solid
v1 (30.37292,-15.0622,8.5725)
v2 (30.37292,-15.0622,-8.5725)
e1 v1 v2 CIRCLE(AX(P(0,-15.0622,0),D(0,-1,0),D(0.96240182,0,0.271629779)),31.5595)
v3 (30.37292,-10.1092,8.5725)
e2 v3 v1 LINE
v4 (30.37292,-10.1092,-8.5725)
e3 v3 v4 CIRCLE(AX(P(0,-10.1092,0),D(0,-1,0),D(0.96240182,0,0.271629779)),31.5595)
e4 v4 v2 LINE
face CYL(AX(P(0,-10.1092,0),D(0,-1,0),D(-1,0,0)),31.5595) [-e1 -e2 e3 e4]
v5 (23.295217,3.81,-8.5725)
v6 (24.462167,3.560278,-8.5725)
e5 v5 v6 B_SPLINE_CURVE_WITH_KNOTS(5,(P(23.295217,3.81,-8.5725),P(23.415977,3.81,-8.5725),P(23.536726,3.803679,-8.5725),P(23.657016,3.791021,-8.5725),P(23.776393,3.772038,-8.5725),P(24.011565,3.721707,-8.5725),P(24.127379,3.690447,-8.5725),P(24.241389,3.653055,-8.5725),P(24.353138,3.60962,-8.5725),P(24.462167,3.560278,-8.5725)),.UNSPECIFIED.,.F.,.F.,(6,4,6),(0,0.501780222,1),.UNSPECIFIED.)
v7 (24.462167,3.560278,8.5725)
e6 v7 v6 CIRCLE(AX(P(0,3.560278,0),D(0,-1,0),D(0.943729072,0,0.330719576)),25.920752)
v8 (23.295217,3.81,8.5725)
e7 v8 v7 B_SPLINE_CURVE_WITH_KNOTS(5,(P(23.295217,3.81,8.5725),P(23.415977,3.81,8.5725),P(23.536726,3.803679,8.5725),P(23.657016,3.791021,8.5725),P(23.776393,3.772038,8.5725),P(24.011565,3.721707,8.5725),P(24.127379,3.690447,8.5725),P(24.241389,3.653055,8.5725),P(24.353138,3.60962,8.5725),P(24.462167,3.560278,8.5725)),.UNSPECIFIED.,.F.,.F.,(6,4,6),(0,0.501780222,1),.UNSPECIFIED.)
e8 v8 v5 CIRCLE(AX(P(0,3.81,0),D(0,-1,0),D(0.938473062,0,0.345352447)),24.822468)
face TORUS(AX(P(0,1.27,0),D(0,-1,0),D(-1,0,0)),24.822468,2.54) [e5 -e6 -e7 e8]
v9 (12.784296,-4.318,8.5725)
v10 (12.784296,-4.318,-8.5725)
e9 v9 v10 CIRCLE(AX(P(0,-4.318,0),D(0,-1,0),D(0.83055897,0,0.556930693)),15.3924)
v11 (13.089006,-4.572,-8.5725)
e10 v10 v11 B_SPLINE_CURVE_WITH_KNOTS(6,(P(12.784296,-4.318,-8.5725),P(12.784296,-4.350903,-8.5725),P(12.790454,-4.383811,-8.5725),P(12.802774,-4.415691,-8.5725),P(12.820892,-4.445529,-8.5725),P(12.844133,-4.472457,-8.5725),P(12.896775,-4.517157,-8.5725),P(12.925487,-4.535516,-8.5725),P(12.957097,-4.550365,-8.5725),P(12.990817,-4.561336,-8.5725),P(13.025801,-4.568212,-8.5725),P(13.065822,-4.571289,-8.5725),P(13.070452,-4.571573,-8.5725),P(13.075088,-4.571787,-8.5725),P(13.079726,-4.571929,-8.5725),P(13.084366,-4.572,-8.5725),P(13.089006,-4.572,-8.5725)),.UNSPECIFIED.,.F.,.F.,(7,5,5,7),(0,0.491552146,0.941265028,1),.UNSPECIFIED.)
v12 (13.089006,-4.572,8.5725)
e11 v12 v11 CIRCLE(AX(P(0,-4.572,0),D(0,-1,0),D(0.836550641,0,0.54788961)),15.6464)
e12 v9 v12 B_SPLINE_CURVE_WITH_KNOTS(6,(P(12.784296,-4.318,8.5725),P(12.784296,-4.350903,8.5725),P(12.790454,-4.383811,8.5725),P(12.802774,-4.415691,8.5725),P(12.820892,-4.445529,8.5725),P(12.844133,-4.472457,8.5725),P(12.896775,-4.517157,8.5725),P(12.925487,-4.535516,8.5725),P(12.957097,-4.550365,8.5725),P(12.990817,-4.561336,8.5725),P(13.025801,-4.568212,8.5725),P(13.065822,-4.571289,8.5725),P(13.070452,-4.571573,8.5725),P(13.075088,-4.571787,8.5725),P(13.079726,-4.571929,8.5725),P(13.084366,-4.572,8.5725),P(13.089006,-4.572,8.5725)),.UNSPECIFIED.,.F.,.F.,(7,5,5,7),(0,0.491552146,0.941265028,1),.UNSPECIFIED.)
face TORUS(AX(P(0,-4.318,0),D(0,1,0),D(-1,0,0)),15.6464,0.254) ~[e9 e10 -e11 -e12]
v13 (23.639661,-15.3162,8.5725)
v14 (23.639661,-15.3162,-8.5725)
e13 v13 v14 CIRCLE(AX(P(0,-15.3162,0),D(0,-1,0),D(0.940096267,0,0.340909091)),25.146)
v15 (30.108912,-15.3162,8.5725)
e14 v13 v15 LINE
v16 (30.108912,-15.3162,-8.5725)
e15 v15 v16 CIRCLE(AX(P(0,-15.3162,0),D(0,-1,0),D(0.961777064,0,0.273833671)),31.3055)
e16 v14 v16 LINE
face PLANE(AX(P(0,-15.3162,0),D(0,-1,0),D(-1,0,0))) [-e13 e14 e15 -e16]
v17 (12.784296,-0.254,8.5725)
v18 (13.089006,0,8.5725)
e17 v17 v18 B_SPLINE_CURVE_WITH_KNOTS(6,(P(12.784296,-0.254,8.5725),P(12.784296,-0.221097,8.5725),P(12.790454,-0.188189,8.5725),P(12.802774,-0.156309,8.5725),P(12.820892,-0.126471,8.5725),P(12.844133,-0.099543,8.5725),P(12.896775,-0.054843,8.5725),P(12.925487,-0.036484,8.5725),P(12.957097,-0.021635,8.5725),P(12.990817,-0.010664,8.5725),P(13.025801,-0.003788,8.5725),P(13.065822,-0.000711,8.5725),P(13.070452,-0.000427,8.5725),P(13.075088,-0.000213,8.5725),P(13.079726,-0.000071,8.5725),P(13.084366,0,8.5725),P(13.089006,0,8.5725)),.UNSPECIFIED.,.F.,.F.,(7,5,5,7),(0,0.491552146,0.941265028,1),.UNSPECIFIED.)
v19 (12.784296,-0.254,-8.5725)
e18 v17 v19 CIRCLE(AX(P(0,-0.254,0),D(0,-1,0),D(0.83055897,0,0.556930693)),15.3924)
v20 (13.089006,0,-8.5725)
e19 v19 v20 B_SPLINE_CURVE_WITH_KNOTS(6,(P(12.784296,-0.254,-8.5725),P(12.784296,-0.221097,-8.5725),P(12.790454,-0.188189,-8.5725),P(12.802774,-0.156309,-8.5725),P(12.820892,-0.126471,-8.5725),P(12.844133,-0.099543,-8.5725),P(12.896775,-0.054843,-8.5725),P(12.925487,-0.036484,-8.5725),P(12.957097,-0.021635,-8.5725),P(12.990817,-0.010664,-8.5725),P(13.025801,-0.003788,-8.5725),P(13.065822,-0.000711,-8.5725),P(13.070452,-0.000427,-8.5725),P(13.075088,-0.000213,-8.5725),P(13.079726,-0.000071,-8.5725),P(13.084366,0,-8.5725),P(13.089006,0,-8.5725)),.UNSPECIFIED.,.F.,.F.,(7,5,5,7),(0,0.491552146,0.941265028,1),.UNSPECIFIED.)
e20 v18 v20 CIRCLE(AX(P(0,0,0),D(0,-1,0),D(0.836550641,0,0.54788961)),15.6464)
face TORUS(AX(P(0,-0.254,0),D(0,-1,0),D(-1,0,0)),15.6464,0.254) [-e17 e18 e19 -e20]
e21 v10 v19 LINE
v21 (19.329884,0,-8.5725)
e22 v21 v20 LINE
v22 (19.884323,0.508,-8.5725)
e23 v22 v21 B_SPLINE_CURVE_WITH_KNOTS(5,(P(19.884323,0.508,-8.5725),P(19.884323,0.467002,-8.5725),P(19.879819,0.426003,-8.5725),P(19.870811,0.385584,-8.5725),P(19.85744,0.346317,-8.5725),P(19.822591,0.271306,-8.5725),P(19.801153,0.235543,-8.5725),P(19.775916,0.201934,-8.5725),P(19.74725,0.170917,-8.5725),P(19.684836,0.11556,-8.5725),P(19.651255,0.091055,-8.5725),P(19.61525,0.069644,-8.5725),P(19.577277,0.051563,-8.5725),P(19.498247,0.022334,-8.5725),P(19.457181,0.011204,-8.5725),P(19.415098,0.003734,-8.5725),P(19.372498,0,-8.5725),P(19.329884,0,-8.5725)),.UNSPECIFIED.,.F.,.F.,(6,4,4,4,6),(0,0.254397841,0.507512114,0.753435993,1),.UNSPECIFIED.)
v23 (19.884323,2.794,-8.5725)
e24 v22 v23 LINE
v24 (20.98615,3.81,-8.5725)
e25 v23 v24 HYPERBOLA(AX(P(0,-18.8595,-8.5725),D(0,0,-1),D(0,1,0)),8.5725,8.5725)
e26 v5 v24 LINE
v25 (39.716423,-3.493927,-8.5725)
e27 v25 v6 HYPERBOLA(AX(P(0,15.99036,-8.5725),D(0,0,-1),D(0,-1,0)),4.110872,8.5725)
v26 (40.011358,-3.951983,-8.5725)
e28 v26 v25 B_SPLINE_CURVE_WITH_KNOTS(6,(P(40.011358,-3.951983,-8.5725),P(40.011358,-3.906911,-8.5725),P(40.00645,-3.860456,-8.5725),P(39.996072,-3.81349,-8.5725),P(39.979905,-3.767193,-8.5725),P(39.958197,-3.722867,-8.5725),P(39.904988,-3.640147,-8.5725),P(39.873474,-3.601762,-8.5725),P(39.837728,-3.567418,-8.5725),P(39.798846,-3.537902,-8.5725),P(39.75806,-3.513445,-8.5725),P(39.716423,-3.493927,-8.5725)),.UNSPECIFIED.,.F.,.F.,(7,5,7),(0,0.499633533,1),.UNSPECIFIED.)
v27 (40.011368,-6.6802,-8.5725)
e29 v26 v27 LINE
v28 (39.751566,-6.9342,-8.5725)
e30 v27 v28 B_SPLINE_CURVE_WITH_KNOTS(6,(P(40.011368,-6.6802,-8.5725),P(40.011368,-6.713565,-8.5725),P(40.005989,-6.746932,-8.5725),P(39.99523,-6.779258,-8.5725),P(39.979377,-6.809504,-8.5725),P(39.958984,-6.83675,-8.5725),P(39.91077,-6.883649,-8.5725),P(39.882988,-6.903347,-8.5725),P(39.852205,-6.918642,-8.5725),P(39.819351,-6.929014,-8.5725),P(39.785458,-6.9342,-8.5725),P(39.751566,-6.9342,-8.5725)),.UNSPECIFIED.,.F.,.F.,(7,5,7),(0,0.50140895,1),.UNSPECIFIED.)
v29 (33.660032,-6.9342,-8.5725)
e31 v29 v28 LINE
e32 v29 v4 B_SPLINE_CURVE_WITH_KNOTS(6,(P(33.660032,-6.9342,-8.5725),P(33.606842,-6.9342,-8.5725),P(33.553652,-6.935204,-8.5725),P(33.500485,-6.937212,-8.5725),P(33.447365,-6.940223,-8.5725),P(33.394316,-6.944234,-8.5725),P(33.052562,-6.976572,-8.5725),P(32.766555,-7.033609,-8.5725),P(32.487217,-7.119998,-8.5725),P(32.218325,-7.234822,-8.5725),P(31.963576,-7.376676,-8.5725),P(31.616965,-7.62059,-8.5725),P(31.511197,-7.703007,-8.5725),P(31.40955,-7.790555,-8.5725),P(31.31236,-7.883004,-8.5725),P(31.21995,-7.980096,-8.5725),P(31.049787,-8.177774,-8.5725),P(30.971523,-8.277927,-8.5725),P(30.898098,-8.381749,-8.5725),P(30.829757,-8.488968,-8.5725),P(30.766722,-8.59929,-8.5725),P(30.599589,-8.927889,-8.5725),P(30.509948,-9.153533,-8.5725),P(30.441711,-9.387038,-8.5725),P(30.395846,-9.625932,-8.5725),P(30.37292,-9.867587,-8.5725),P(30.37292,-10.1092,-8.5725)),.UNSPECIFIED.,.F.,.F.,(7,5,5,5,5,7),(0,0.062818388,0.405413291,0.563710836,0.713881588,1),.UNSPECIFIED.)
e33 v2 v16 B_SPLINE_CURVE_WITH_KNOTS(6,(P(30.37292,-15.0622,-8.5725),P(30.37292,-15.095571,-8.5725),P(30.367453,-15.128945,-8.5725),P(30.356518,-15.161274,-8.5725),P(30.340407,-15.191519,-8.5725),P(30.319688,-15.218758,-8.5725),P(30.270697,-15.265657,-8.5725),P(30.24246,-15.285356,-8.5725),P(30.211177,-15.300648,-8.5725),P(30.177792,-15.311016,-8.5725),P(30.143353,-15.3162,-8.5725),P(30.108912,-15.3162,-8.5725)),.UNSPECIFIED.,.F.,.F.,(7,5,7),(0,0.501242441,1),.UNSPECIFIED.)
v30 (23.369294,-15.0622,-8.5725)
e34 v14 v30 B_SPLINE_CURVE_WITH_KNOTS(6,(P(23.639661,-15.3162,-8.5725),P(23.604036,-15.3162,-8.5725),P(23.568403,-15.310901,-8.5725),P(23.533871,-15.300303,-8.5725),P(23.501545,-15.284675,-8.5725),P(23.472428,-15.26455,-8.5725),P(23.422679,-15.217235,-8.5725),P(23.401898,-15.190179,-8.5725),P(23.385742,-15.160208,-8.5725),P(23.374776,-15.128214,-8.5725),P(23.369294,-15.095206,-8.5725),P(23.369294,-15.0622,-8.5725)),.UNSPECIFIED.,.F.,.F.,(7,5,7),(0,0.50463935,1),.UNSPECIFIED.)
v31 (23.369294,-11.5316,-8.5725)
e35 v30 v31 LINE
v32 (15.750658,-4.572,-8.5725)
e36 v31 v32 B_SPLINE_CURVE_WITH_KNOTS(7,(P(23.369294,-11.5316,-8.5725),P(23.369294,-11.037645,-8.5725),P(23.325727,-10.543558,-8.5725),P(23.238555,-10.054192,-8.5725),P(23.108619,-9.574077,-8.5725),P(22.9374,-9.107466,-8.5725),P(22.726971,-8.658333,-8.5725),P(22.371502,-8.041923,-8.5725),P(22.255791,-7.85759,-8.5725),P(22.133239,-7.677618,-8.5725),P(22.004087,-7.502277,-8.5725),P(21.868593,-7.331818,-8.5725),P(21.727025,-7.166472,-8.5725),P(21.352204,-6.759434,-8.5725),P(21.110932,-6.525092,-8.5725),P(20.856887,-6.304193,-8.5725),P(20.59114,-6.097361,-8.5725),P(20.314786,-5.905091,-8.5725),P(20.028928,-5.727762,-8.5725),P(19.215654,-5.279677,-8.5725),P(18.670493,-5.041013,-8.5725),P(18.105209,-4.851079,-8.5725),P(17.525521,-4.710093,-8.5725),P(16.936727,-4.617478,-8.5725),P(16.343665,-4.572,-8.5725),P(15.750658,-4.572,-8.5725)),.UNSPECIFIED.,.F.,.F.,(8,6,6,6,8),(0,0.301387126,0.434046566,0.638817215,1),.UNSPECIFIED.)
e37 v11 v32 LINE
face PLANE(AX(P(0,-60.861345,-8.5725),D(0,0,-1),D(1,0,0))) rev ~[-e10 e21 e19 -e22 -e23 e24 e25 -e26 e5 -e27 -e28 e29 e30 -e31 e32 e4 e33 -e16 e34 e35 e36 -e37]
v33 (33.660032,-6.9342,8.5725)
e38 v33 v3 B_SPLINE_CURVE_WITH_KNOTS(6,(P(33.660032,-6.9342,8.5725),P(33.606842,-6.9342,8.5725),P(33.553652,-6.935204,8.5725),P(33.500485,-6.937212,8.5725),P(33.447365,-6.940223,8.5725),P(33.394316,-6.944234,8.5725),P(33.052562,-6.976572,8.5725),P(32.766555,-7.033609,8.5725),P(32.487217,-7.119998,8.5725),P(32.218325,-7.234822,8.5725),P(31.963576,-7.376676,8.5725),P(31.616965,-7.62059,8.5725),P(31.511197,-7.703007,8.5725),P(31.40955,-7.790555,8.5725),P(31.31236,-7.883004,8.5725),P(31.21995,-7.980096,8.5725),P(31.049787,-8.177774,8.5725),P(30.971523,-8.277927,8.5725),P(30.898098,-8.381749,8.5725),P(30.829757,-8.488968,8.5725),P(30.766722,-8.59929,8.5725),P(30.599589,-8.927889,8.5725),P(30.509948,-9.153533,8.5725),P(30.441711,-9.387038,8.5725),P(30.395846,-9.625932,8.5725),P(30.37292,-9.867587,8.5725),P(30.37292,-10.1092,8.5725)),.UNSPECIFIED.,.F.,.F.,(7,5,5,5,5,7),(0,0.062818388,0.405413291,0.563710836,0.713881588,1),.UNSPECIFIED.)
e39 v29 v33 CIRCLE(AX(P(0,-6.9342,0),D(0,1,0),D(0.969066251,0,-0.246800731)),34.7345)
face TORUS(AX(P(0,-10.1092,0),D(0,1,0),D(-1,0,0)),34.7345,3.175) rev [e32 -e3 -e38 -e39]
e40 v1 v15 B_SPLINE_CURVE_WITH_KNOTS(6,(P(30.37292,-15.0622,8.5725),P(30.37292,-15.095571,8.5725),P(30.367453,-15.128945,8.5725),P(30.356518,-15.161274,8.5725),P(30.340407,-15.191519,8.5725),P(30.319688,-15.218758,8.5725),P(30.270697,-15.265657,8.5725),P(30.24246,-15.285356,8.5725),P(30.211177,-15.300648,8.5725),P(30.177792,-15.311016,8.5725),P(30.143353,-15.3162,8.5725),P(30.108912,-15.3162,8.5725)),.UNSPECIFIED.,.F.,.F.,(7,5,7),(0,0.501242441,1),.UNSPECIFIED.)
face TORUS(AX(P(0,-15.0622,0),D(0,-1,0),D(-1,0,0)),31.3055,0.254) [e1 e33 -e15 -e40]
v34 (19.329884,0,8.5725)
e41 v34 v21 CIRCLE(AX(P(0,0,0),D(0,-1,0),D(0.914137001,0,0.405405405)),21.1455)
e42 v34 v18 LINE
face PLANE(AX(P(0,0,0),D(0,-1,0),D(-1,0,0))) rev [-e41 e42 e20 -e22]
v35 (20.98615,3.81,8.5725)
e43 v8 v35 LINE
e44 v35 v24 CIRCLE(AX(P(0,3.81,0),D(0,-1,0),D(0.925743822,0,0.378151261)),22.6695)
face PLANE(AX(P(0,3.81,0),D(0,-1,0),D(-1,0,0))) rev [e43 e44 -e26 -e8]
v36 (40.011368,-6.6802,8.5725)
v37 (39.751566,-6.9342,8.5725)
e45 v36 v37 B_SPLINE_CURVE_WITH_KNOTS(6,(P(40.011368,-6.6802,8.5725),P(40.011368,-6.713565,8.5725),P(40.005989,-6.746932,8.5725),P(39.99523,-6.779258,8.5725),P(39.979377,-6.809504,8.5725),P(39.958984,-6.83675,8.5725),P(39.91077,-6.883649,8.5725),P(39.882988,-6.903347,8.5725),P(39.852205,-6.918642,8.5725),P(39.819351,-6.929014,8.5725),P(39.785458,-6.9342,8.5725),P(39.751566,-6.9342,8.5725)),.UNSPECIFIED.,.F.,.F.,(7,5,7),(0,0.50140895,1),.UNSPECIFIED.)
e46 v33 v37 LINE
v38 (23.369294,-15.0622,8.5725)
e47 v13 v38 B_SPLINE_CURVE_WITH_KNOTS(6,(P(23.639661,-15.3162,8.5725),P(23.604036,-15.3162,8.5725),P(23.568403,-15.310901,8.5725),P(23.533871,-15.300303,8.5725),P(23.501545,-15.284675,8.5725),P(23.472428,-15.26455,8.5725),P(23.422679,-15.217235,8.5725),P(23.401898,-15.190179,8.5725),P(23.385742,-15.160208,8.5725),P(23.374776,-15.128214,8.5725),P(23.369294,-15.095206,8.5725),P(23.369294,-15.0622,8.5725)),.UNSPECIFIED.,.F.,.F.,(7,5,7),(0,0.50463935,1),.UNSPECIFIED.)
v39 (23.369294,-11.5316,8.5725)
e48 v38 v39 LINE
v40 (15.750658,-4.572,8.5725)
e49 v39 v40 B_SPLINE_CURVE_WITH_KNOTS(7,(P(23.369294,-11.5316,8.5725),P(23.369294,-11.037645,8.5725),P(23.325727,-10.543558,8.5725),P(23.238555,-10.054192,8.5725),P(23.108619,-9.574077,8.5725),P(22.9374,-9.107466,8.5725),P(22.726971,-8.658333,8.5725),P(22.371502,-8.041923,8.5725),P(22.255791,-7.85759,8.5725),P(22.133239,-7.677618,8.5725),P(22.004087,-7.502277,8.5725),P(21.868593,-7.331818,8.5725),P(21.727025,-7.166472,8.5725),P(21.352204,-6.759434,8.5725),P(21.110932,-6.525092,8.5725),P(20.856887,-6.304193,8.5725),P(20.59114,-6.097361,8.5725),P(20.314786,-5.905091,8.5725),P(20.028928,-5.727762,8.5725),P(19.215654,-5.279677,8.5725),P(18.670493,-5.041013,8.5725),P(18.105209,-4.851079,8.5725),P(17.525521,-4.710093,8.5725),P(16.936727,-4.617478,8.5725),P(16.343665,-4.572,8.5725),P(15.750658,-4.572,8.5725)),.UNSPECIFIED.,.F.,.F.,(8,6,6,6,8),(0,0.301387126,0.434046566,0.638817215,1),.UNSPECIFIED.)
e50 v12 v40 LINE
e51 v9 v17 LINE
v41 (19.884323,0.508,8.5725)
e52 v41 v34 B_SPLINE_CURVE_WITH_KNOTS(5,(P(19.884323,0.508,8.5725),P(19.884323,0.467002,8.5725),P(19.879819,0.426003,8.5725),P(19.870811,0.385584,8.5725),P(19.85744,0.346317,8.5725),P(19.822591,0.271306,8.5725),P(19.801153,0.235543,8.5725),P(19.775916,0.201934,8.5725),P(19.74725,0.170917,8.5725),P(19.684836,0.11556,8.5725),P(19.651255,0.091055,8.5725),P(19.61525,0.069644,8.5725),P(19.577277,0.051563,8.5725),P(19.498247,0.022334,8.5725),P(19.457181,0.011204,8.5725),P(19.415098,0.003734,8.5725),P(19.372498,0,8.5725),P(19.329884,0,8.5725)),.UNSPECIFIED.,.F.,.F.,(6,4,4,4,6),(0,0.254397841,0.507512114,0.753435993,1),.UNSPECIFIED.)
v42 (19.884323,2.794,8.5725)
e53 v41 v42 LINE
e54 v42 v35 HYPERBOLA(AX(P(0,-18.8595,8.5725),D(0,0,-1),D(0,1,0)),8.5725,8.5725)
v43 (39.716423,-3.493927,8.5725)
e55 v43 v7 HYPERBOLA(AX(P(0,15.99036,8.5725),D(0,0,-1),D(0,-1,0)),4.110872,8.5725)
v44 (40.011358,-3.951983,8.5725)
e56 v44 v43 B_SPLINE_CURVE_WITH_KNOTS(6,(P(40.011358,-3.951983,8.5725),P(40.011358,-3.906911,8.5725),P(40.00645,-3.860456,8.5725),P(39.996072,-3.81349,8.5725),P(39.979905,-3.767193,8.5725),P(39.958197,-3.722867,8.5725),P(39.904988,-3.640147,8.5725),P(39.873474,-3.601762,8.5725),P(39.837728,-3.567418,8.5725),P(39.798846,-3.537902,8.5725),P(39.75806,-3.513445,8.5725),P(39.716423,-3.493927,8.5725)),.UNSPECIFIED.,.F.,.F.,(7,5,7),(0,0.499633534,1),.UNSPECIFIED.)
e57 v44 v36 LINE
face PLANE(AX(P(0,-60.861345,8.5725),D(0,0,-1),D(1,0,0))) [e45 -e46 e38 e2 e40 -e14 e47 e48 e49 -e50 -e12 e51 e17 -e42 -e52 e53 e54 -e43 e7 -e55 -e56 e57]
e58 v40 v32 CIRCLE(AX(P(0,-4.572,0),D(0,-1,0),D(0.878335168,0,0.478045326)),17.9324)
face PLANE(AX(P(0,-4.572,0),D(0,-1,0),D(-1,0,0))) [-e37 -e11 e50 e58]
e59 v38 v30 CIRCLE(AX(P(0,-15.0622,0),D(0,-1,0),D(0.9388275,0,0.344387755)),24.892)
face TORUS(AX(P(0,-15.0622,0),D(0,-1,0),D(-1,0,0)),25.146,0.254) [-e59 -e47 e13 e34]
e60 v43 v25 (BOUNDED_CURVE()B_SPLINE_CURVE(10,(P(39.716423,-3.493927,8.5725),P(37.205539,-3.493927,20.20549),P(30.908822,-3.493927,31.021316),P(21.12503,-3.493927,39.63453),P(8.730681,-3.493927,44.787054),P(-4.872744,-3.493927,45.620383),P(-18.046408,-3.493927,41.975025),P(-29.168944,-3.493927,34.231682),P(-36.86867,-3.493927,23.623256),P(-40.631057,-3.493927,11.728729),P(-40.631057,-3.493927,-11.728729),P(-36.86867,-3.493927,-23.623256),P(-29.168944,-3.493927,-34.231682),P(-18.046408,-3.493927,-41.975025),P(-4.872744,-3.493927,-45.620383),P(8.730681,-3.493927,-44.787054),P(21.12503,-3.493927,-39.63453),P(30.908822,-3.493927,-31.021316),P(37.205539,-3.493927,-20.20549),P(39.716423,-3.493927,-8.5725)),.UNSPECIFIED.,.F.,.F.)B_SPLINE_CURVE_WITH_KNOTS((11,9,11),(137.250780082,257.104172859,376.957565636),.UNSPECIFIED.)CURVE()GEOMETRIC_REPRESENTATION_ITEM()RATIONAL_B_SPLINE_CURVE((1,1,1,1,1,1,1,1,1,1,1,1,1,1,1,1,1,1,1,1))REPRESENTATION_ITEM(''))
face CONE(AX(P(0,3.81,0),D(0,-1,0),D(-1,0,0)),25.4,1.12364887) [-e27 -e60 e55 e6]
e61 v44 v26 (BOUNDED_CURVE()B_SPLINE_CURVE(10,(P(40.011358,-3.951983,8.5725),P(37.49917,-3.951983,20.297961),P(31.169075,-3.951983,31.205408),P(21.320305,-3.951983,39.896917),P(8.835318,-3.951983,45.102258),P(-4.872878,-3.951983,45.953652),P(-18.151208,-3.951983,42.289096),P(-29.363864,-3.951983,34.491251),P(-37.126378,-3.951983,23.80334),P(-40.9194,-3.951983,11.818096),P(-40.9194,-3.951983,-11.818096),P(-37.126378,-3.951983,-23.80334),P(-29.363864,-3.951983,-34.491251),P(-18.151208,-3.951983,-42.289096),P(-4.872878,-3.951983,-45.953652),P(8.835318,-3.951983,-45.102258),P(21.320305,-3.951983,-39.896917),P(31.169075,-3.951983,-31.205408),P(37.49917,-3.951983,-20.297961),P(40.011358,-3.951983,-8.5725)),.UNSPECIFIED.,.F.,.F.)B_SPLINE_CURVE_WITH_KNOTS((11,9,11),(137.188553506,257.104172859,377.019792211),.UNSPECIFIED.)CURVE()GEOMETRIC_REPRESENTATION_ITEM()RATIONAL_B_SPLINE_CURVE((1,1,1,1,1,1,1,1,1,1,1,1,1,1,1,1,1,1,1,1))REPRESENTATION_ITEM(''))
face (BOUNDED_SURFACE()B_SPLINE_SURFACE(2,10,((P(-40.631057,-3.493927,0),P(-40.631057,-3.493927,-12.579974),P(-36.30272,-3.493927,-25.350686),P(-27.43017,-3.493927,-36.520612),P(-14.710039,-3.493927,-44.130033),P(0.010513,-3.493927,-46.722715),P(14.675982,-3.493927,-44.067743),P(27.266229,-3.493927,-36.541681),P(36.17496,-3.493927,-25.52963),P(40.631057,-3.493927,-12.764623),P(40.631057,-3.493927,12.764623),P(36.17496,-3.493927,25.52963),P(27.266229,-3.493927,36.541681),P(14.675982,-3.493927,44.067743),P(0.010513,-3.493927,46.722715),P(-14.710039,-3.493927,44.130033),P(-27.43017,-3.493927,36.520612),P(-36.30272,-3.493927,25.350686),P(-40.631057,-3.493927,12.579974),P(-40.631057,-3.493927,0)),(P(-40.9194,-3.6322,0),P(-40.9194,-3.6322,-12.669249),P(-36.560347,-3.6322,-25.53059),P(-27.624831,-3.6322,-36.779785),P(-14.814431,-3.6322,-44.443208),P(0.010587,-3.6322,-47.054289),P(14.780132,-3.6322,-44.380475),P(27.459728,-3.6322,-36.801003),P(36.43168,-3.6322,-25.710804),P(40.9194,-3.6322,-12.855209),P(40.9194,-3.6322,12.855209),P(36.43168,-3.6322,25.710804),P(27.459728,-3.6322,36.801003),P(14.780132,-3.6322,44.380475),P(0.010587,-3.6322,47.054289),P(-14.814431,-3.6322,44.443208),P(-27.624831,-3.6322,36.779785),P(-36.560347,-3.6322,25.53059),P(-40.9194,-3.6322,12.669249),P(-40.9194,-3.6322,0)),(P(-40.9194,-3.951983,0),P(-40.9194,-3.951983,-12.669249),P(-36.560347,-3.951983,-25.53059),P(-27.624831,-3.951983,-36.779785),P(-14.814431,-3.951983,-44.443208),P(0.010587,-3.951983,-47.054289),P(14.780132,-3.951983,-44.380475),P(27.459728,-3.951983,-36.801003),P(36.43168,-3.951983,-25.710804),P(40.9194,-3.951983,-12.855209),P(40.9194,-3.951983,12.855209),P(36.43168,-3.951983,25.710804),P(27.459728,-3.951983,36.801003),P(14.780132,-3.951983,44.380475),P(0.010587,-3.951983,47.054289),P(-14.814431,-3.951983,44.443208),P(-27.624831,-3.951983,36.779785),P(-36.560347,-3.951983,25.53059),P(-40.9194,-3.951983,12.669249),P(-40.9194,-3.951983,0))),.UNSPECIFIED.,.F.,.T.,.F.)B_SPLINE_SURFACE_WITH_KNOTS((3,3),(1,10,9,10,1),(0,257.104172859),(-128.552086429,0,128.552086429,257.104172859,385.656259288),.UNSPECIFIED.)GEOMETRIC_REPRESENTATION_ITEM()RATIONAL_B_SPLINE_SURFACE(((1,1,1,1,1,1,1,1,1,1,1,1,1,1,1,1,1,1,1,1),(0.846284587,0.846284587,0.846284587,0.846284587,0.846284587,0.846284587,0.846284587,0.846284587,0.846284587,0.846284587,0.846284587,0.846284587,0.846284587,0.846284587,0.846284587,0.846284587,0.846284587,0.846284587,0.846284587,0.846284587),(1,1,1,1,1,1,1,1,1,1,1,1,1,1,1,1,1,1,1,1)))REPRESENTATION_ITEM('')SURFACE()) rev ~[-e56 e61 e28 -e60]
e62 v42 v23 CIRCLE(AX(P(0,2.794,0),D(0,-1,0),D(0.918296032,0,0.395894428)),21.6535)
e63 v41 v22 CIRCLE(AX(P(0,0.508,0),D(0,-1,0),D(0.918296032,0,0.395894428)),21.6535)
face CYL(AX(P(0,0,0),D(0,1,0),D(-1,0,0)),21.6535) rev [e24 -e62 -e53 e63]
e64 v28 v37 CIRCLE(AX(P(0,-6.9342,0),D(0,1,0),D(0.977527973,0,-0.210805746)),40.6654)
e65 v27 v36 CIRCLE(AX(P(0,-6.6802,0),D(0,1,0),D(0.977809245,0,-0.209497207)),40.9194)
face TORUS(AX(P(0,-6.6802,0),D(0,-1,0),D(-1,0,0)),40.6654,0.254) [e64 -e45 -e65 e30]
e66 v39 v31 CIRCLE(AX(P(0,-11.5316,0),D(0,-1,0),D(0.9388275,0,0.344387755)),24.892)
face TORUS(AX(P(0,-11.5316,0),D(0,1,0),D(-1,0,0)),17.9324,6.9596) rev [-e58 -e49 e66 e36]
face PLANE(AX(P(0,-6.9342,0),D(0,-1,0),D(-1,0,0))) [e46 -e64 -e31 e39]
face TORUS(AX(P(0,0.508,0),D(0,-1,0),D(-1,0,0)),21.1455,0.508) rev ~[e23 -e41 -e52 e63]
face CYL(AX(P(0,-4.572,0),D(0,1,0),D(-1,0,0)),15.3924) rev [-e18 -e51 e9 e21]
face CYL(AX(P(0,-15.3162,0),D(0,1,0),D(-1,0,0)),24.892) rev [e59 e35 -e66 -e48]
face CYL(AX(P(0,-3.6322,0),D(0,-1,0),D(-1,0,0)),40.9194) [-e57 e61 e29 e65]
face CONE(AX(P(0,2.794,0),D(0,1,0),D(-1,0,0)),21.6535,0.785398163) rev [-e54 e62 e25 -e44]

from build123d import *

# Parameters (mm, degrees)
FILLET1_R               = 0.254
CHAMFER1_SIZE           = 1.016
FILLET2_R               = 0.508
FILLET3_R               = 2.54
FILLET4_R               = 0.508
FILLET5_R               = 0.254
CUT_EXTRUDE1_DEPTH      = 60.861345484
CUT_EXTRUDE1_DEPTH_BACK = 60.861345484
SKETCH24_W              = 40.9194
SKETCH24_H              = 17.145


with BuildPart() as part:
    # Sketch23 → Revolve3 (revolve)
    with BuildSketch(Plane.XY, mode=Mode.PRIVATE) as revolve3_sk:
        with BuildLine():
            Line((15.3924, -4.572), (15.3924, 0))
            Line((15.3924, 0), (21.6535, 0))
            Line((21.6535, 0), (21.6535, 3.81))
            Line((21.6535, 3.81), (25.4, 3.81))
            Line((25.4, 3.81), (40.9194, -3.6322))
            Line((40.9194, -3.6322), (40.9194, -6.9342))
            Line((40.9194, -6.9342), (34.7345, -6.9342))
            ThreePointArc((34.7345, -6.9342), (32.48943597, -7.86413597), (31.5595, -10.1092))
            Line((31.5595, -10.1092), (31.5595, -15.3162))
            Line((31.5595, -15.3162), (24.892, -15.3162))
            Line((24.892, -15.3162), (24.892, -11.5316))
            ThreePointArc((24.892, -11.5316), (22.853580354, -6.610419646), (17.9324, -4.572))
            Line((17.9324, -4.572), (15.3924, -4.572))
        make_face()
    revolve(revolve3_sk.sketch.rotate(Axis((0, -46.909959357, 0), (0, -1, 0)), 180), axis=Axis((0, -46.909959357, 0), (0, -1, 0)))

    # Fillet1
    fillet1_edges = [part.edges().sort_by_distance(p)[0] for p in [
        (24.892, -15.3162, 0),
        (15.3924, -4.572, 0),
        (15.3924, 0, 0),
    ]]
    fillet(fillet1_edges, radius=FILLET1_R)

    # Chamfer1
    chamfer1_edges = [part.edges().sort_by_distance(p)[0] for p in [
        (21.6535, 3.81, 0),
    ]]
    chamfer(chamfer1_edges, length=CHAMFER1_SIZE)

    # Fillet2
    fillet2_edges = [part.edges().sort_by_distance(p)[0] for p in [
        (21.6535, 0, 0),
    ]]
    fillet(fillet2_edges, radius=FILLET2_R)

    # Fillet3
    fillet3_edges = [part.edges().sort_by_distance(p)[0] for p in [
        (25.4, 3.81, 0),
    ]]
    fillet(fillet3_edges, radius=FILLET3_R)

    # Fillet4
    fillet4_edges = [part.edges().sort_by_distance(p)[0] for p in [
        (40.9194, -3.6322, 0),
    ]]
    fillet(fillet4_edges, radius=FILLET4_R)

    # Fillet5
    fillet5_edges = [part.edges().sort_by_distance(p)[0] for p in [
        (40.9194, -6.9342, 0),
        (31.5595, -15.3162, 0),
    ]]
    fillet(fillet5_edges, radius=FILLET5_R)

    # Sketch24 → Cut-Extrude1 (cut, two sides: drawn at the far end of the back side and taken through both)
    with BuildSketch(Plane(origin=(0, 0, 0), x_dir=(1, 0, 0), z_dir=(0, 1, 0)).offset(-CUT_EXTRUDE1_DEPTH_BACK)):
        with Locations((20.4597, 0)):
            Rectangle(SKETCH24_W, SKETCH24_H)
    extrude(amount=CUT_EXTRUDE1_DEPTH + CUT_EXTRUDE1_DEPTH_BACK, mode=Mode.SUBTRACT)


solid = part.part
